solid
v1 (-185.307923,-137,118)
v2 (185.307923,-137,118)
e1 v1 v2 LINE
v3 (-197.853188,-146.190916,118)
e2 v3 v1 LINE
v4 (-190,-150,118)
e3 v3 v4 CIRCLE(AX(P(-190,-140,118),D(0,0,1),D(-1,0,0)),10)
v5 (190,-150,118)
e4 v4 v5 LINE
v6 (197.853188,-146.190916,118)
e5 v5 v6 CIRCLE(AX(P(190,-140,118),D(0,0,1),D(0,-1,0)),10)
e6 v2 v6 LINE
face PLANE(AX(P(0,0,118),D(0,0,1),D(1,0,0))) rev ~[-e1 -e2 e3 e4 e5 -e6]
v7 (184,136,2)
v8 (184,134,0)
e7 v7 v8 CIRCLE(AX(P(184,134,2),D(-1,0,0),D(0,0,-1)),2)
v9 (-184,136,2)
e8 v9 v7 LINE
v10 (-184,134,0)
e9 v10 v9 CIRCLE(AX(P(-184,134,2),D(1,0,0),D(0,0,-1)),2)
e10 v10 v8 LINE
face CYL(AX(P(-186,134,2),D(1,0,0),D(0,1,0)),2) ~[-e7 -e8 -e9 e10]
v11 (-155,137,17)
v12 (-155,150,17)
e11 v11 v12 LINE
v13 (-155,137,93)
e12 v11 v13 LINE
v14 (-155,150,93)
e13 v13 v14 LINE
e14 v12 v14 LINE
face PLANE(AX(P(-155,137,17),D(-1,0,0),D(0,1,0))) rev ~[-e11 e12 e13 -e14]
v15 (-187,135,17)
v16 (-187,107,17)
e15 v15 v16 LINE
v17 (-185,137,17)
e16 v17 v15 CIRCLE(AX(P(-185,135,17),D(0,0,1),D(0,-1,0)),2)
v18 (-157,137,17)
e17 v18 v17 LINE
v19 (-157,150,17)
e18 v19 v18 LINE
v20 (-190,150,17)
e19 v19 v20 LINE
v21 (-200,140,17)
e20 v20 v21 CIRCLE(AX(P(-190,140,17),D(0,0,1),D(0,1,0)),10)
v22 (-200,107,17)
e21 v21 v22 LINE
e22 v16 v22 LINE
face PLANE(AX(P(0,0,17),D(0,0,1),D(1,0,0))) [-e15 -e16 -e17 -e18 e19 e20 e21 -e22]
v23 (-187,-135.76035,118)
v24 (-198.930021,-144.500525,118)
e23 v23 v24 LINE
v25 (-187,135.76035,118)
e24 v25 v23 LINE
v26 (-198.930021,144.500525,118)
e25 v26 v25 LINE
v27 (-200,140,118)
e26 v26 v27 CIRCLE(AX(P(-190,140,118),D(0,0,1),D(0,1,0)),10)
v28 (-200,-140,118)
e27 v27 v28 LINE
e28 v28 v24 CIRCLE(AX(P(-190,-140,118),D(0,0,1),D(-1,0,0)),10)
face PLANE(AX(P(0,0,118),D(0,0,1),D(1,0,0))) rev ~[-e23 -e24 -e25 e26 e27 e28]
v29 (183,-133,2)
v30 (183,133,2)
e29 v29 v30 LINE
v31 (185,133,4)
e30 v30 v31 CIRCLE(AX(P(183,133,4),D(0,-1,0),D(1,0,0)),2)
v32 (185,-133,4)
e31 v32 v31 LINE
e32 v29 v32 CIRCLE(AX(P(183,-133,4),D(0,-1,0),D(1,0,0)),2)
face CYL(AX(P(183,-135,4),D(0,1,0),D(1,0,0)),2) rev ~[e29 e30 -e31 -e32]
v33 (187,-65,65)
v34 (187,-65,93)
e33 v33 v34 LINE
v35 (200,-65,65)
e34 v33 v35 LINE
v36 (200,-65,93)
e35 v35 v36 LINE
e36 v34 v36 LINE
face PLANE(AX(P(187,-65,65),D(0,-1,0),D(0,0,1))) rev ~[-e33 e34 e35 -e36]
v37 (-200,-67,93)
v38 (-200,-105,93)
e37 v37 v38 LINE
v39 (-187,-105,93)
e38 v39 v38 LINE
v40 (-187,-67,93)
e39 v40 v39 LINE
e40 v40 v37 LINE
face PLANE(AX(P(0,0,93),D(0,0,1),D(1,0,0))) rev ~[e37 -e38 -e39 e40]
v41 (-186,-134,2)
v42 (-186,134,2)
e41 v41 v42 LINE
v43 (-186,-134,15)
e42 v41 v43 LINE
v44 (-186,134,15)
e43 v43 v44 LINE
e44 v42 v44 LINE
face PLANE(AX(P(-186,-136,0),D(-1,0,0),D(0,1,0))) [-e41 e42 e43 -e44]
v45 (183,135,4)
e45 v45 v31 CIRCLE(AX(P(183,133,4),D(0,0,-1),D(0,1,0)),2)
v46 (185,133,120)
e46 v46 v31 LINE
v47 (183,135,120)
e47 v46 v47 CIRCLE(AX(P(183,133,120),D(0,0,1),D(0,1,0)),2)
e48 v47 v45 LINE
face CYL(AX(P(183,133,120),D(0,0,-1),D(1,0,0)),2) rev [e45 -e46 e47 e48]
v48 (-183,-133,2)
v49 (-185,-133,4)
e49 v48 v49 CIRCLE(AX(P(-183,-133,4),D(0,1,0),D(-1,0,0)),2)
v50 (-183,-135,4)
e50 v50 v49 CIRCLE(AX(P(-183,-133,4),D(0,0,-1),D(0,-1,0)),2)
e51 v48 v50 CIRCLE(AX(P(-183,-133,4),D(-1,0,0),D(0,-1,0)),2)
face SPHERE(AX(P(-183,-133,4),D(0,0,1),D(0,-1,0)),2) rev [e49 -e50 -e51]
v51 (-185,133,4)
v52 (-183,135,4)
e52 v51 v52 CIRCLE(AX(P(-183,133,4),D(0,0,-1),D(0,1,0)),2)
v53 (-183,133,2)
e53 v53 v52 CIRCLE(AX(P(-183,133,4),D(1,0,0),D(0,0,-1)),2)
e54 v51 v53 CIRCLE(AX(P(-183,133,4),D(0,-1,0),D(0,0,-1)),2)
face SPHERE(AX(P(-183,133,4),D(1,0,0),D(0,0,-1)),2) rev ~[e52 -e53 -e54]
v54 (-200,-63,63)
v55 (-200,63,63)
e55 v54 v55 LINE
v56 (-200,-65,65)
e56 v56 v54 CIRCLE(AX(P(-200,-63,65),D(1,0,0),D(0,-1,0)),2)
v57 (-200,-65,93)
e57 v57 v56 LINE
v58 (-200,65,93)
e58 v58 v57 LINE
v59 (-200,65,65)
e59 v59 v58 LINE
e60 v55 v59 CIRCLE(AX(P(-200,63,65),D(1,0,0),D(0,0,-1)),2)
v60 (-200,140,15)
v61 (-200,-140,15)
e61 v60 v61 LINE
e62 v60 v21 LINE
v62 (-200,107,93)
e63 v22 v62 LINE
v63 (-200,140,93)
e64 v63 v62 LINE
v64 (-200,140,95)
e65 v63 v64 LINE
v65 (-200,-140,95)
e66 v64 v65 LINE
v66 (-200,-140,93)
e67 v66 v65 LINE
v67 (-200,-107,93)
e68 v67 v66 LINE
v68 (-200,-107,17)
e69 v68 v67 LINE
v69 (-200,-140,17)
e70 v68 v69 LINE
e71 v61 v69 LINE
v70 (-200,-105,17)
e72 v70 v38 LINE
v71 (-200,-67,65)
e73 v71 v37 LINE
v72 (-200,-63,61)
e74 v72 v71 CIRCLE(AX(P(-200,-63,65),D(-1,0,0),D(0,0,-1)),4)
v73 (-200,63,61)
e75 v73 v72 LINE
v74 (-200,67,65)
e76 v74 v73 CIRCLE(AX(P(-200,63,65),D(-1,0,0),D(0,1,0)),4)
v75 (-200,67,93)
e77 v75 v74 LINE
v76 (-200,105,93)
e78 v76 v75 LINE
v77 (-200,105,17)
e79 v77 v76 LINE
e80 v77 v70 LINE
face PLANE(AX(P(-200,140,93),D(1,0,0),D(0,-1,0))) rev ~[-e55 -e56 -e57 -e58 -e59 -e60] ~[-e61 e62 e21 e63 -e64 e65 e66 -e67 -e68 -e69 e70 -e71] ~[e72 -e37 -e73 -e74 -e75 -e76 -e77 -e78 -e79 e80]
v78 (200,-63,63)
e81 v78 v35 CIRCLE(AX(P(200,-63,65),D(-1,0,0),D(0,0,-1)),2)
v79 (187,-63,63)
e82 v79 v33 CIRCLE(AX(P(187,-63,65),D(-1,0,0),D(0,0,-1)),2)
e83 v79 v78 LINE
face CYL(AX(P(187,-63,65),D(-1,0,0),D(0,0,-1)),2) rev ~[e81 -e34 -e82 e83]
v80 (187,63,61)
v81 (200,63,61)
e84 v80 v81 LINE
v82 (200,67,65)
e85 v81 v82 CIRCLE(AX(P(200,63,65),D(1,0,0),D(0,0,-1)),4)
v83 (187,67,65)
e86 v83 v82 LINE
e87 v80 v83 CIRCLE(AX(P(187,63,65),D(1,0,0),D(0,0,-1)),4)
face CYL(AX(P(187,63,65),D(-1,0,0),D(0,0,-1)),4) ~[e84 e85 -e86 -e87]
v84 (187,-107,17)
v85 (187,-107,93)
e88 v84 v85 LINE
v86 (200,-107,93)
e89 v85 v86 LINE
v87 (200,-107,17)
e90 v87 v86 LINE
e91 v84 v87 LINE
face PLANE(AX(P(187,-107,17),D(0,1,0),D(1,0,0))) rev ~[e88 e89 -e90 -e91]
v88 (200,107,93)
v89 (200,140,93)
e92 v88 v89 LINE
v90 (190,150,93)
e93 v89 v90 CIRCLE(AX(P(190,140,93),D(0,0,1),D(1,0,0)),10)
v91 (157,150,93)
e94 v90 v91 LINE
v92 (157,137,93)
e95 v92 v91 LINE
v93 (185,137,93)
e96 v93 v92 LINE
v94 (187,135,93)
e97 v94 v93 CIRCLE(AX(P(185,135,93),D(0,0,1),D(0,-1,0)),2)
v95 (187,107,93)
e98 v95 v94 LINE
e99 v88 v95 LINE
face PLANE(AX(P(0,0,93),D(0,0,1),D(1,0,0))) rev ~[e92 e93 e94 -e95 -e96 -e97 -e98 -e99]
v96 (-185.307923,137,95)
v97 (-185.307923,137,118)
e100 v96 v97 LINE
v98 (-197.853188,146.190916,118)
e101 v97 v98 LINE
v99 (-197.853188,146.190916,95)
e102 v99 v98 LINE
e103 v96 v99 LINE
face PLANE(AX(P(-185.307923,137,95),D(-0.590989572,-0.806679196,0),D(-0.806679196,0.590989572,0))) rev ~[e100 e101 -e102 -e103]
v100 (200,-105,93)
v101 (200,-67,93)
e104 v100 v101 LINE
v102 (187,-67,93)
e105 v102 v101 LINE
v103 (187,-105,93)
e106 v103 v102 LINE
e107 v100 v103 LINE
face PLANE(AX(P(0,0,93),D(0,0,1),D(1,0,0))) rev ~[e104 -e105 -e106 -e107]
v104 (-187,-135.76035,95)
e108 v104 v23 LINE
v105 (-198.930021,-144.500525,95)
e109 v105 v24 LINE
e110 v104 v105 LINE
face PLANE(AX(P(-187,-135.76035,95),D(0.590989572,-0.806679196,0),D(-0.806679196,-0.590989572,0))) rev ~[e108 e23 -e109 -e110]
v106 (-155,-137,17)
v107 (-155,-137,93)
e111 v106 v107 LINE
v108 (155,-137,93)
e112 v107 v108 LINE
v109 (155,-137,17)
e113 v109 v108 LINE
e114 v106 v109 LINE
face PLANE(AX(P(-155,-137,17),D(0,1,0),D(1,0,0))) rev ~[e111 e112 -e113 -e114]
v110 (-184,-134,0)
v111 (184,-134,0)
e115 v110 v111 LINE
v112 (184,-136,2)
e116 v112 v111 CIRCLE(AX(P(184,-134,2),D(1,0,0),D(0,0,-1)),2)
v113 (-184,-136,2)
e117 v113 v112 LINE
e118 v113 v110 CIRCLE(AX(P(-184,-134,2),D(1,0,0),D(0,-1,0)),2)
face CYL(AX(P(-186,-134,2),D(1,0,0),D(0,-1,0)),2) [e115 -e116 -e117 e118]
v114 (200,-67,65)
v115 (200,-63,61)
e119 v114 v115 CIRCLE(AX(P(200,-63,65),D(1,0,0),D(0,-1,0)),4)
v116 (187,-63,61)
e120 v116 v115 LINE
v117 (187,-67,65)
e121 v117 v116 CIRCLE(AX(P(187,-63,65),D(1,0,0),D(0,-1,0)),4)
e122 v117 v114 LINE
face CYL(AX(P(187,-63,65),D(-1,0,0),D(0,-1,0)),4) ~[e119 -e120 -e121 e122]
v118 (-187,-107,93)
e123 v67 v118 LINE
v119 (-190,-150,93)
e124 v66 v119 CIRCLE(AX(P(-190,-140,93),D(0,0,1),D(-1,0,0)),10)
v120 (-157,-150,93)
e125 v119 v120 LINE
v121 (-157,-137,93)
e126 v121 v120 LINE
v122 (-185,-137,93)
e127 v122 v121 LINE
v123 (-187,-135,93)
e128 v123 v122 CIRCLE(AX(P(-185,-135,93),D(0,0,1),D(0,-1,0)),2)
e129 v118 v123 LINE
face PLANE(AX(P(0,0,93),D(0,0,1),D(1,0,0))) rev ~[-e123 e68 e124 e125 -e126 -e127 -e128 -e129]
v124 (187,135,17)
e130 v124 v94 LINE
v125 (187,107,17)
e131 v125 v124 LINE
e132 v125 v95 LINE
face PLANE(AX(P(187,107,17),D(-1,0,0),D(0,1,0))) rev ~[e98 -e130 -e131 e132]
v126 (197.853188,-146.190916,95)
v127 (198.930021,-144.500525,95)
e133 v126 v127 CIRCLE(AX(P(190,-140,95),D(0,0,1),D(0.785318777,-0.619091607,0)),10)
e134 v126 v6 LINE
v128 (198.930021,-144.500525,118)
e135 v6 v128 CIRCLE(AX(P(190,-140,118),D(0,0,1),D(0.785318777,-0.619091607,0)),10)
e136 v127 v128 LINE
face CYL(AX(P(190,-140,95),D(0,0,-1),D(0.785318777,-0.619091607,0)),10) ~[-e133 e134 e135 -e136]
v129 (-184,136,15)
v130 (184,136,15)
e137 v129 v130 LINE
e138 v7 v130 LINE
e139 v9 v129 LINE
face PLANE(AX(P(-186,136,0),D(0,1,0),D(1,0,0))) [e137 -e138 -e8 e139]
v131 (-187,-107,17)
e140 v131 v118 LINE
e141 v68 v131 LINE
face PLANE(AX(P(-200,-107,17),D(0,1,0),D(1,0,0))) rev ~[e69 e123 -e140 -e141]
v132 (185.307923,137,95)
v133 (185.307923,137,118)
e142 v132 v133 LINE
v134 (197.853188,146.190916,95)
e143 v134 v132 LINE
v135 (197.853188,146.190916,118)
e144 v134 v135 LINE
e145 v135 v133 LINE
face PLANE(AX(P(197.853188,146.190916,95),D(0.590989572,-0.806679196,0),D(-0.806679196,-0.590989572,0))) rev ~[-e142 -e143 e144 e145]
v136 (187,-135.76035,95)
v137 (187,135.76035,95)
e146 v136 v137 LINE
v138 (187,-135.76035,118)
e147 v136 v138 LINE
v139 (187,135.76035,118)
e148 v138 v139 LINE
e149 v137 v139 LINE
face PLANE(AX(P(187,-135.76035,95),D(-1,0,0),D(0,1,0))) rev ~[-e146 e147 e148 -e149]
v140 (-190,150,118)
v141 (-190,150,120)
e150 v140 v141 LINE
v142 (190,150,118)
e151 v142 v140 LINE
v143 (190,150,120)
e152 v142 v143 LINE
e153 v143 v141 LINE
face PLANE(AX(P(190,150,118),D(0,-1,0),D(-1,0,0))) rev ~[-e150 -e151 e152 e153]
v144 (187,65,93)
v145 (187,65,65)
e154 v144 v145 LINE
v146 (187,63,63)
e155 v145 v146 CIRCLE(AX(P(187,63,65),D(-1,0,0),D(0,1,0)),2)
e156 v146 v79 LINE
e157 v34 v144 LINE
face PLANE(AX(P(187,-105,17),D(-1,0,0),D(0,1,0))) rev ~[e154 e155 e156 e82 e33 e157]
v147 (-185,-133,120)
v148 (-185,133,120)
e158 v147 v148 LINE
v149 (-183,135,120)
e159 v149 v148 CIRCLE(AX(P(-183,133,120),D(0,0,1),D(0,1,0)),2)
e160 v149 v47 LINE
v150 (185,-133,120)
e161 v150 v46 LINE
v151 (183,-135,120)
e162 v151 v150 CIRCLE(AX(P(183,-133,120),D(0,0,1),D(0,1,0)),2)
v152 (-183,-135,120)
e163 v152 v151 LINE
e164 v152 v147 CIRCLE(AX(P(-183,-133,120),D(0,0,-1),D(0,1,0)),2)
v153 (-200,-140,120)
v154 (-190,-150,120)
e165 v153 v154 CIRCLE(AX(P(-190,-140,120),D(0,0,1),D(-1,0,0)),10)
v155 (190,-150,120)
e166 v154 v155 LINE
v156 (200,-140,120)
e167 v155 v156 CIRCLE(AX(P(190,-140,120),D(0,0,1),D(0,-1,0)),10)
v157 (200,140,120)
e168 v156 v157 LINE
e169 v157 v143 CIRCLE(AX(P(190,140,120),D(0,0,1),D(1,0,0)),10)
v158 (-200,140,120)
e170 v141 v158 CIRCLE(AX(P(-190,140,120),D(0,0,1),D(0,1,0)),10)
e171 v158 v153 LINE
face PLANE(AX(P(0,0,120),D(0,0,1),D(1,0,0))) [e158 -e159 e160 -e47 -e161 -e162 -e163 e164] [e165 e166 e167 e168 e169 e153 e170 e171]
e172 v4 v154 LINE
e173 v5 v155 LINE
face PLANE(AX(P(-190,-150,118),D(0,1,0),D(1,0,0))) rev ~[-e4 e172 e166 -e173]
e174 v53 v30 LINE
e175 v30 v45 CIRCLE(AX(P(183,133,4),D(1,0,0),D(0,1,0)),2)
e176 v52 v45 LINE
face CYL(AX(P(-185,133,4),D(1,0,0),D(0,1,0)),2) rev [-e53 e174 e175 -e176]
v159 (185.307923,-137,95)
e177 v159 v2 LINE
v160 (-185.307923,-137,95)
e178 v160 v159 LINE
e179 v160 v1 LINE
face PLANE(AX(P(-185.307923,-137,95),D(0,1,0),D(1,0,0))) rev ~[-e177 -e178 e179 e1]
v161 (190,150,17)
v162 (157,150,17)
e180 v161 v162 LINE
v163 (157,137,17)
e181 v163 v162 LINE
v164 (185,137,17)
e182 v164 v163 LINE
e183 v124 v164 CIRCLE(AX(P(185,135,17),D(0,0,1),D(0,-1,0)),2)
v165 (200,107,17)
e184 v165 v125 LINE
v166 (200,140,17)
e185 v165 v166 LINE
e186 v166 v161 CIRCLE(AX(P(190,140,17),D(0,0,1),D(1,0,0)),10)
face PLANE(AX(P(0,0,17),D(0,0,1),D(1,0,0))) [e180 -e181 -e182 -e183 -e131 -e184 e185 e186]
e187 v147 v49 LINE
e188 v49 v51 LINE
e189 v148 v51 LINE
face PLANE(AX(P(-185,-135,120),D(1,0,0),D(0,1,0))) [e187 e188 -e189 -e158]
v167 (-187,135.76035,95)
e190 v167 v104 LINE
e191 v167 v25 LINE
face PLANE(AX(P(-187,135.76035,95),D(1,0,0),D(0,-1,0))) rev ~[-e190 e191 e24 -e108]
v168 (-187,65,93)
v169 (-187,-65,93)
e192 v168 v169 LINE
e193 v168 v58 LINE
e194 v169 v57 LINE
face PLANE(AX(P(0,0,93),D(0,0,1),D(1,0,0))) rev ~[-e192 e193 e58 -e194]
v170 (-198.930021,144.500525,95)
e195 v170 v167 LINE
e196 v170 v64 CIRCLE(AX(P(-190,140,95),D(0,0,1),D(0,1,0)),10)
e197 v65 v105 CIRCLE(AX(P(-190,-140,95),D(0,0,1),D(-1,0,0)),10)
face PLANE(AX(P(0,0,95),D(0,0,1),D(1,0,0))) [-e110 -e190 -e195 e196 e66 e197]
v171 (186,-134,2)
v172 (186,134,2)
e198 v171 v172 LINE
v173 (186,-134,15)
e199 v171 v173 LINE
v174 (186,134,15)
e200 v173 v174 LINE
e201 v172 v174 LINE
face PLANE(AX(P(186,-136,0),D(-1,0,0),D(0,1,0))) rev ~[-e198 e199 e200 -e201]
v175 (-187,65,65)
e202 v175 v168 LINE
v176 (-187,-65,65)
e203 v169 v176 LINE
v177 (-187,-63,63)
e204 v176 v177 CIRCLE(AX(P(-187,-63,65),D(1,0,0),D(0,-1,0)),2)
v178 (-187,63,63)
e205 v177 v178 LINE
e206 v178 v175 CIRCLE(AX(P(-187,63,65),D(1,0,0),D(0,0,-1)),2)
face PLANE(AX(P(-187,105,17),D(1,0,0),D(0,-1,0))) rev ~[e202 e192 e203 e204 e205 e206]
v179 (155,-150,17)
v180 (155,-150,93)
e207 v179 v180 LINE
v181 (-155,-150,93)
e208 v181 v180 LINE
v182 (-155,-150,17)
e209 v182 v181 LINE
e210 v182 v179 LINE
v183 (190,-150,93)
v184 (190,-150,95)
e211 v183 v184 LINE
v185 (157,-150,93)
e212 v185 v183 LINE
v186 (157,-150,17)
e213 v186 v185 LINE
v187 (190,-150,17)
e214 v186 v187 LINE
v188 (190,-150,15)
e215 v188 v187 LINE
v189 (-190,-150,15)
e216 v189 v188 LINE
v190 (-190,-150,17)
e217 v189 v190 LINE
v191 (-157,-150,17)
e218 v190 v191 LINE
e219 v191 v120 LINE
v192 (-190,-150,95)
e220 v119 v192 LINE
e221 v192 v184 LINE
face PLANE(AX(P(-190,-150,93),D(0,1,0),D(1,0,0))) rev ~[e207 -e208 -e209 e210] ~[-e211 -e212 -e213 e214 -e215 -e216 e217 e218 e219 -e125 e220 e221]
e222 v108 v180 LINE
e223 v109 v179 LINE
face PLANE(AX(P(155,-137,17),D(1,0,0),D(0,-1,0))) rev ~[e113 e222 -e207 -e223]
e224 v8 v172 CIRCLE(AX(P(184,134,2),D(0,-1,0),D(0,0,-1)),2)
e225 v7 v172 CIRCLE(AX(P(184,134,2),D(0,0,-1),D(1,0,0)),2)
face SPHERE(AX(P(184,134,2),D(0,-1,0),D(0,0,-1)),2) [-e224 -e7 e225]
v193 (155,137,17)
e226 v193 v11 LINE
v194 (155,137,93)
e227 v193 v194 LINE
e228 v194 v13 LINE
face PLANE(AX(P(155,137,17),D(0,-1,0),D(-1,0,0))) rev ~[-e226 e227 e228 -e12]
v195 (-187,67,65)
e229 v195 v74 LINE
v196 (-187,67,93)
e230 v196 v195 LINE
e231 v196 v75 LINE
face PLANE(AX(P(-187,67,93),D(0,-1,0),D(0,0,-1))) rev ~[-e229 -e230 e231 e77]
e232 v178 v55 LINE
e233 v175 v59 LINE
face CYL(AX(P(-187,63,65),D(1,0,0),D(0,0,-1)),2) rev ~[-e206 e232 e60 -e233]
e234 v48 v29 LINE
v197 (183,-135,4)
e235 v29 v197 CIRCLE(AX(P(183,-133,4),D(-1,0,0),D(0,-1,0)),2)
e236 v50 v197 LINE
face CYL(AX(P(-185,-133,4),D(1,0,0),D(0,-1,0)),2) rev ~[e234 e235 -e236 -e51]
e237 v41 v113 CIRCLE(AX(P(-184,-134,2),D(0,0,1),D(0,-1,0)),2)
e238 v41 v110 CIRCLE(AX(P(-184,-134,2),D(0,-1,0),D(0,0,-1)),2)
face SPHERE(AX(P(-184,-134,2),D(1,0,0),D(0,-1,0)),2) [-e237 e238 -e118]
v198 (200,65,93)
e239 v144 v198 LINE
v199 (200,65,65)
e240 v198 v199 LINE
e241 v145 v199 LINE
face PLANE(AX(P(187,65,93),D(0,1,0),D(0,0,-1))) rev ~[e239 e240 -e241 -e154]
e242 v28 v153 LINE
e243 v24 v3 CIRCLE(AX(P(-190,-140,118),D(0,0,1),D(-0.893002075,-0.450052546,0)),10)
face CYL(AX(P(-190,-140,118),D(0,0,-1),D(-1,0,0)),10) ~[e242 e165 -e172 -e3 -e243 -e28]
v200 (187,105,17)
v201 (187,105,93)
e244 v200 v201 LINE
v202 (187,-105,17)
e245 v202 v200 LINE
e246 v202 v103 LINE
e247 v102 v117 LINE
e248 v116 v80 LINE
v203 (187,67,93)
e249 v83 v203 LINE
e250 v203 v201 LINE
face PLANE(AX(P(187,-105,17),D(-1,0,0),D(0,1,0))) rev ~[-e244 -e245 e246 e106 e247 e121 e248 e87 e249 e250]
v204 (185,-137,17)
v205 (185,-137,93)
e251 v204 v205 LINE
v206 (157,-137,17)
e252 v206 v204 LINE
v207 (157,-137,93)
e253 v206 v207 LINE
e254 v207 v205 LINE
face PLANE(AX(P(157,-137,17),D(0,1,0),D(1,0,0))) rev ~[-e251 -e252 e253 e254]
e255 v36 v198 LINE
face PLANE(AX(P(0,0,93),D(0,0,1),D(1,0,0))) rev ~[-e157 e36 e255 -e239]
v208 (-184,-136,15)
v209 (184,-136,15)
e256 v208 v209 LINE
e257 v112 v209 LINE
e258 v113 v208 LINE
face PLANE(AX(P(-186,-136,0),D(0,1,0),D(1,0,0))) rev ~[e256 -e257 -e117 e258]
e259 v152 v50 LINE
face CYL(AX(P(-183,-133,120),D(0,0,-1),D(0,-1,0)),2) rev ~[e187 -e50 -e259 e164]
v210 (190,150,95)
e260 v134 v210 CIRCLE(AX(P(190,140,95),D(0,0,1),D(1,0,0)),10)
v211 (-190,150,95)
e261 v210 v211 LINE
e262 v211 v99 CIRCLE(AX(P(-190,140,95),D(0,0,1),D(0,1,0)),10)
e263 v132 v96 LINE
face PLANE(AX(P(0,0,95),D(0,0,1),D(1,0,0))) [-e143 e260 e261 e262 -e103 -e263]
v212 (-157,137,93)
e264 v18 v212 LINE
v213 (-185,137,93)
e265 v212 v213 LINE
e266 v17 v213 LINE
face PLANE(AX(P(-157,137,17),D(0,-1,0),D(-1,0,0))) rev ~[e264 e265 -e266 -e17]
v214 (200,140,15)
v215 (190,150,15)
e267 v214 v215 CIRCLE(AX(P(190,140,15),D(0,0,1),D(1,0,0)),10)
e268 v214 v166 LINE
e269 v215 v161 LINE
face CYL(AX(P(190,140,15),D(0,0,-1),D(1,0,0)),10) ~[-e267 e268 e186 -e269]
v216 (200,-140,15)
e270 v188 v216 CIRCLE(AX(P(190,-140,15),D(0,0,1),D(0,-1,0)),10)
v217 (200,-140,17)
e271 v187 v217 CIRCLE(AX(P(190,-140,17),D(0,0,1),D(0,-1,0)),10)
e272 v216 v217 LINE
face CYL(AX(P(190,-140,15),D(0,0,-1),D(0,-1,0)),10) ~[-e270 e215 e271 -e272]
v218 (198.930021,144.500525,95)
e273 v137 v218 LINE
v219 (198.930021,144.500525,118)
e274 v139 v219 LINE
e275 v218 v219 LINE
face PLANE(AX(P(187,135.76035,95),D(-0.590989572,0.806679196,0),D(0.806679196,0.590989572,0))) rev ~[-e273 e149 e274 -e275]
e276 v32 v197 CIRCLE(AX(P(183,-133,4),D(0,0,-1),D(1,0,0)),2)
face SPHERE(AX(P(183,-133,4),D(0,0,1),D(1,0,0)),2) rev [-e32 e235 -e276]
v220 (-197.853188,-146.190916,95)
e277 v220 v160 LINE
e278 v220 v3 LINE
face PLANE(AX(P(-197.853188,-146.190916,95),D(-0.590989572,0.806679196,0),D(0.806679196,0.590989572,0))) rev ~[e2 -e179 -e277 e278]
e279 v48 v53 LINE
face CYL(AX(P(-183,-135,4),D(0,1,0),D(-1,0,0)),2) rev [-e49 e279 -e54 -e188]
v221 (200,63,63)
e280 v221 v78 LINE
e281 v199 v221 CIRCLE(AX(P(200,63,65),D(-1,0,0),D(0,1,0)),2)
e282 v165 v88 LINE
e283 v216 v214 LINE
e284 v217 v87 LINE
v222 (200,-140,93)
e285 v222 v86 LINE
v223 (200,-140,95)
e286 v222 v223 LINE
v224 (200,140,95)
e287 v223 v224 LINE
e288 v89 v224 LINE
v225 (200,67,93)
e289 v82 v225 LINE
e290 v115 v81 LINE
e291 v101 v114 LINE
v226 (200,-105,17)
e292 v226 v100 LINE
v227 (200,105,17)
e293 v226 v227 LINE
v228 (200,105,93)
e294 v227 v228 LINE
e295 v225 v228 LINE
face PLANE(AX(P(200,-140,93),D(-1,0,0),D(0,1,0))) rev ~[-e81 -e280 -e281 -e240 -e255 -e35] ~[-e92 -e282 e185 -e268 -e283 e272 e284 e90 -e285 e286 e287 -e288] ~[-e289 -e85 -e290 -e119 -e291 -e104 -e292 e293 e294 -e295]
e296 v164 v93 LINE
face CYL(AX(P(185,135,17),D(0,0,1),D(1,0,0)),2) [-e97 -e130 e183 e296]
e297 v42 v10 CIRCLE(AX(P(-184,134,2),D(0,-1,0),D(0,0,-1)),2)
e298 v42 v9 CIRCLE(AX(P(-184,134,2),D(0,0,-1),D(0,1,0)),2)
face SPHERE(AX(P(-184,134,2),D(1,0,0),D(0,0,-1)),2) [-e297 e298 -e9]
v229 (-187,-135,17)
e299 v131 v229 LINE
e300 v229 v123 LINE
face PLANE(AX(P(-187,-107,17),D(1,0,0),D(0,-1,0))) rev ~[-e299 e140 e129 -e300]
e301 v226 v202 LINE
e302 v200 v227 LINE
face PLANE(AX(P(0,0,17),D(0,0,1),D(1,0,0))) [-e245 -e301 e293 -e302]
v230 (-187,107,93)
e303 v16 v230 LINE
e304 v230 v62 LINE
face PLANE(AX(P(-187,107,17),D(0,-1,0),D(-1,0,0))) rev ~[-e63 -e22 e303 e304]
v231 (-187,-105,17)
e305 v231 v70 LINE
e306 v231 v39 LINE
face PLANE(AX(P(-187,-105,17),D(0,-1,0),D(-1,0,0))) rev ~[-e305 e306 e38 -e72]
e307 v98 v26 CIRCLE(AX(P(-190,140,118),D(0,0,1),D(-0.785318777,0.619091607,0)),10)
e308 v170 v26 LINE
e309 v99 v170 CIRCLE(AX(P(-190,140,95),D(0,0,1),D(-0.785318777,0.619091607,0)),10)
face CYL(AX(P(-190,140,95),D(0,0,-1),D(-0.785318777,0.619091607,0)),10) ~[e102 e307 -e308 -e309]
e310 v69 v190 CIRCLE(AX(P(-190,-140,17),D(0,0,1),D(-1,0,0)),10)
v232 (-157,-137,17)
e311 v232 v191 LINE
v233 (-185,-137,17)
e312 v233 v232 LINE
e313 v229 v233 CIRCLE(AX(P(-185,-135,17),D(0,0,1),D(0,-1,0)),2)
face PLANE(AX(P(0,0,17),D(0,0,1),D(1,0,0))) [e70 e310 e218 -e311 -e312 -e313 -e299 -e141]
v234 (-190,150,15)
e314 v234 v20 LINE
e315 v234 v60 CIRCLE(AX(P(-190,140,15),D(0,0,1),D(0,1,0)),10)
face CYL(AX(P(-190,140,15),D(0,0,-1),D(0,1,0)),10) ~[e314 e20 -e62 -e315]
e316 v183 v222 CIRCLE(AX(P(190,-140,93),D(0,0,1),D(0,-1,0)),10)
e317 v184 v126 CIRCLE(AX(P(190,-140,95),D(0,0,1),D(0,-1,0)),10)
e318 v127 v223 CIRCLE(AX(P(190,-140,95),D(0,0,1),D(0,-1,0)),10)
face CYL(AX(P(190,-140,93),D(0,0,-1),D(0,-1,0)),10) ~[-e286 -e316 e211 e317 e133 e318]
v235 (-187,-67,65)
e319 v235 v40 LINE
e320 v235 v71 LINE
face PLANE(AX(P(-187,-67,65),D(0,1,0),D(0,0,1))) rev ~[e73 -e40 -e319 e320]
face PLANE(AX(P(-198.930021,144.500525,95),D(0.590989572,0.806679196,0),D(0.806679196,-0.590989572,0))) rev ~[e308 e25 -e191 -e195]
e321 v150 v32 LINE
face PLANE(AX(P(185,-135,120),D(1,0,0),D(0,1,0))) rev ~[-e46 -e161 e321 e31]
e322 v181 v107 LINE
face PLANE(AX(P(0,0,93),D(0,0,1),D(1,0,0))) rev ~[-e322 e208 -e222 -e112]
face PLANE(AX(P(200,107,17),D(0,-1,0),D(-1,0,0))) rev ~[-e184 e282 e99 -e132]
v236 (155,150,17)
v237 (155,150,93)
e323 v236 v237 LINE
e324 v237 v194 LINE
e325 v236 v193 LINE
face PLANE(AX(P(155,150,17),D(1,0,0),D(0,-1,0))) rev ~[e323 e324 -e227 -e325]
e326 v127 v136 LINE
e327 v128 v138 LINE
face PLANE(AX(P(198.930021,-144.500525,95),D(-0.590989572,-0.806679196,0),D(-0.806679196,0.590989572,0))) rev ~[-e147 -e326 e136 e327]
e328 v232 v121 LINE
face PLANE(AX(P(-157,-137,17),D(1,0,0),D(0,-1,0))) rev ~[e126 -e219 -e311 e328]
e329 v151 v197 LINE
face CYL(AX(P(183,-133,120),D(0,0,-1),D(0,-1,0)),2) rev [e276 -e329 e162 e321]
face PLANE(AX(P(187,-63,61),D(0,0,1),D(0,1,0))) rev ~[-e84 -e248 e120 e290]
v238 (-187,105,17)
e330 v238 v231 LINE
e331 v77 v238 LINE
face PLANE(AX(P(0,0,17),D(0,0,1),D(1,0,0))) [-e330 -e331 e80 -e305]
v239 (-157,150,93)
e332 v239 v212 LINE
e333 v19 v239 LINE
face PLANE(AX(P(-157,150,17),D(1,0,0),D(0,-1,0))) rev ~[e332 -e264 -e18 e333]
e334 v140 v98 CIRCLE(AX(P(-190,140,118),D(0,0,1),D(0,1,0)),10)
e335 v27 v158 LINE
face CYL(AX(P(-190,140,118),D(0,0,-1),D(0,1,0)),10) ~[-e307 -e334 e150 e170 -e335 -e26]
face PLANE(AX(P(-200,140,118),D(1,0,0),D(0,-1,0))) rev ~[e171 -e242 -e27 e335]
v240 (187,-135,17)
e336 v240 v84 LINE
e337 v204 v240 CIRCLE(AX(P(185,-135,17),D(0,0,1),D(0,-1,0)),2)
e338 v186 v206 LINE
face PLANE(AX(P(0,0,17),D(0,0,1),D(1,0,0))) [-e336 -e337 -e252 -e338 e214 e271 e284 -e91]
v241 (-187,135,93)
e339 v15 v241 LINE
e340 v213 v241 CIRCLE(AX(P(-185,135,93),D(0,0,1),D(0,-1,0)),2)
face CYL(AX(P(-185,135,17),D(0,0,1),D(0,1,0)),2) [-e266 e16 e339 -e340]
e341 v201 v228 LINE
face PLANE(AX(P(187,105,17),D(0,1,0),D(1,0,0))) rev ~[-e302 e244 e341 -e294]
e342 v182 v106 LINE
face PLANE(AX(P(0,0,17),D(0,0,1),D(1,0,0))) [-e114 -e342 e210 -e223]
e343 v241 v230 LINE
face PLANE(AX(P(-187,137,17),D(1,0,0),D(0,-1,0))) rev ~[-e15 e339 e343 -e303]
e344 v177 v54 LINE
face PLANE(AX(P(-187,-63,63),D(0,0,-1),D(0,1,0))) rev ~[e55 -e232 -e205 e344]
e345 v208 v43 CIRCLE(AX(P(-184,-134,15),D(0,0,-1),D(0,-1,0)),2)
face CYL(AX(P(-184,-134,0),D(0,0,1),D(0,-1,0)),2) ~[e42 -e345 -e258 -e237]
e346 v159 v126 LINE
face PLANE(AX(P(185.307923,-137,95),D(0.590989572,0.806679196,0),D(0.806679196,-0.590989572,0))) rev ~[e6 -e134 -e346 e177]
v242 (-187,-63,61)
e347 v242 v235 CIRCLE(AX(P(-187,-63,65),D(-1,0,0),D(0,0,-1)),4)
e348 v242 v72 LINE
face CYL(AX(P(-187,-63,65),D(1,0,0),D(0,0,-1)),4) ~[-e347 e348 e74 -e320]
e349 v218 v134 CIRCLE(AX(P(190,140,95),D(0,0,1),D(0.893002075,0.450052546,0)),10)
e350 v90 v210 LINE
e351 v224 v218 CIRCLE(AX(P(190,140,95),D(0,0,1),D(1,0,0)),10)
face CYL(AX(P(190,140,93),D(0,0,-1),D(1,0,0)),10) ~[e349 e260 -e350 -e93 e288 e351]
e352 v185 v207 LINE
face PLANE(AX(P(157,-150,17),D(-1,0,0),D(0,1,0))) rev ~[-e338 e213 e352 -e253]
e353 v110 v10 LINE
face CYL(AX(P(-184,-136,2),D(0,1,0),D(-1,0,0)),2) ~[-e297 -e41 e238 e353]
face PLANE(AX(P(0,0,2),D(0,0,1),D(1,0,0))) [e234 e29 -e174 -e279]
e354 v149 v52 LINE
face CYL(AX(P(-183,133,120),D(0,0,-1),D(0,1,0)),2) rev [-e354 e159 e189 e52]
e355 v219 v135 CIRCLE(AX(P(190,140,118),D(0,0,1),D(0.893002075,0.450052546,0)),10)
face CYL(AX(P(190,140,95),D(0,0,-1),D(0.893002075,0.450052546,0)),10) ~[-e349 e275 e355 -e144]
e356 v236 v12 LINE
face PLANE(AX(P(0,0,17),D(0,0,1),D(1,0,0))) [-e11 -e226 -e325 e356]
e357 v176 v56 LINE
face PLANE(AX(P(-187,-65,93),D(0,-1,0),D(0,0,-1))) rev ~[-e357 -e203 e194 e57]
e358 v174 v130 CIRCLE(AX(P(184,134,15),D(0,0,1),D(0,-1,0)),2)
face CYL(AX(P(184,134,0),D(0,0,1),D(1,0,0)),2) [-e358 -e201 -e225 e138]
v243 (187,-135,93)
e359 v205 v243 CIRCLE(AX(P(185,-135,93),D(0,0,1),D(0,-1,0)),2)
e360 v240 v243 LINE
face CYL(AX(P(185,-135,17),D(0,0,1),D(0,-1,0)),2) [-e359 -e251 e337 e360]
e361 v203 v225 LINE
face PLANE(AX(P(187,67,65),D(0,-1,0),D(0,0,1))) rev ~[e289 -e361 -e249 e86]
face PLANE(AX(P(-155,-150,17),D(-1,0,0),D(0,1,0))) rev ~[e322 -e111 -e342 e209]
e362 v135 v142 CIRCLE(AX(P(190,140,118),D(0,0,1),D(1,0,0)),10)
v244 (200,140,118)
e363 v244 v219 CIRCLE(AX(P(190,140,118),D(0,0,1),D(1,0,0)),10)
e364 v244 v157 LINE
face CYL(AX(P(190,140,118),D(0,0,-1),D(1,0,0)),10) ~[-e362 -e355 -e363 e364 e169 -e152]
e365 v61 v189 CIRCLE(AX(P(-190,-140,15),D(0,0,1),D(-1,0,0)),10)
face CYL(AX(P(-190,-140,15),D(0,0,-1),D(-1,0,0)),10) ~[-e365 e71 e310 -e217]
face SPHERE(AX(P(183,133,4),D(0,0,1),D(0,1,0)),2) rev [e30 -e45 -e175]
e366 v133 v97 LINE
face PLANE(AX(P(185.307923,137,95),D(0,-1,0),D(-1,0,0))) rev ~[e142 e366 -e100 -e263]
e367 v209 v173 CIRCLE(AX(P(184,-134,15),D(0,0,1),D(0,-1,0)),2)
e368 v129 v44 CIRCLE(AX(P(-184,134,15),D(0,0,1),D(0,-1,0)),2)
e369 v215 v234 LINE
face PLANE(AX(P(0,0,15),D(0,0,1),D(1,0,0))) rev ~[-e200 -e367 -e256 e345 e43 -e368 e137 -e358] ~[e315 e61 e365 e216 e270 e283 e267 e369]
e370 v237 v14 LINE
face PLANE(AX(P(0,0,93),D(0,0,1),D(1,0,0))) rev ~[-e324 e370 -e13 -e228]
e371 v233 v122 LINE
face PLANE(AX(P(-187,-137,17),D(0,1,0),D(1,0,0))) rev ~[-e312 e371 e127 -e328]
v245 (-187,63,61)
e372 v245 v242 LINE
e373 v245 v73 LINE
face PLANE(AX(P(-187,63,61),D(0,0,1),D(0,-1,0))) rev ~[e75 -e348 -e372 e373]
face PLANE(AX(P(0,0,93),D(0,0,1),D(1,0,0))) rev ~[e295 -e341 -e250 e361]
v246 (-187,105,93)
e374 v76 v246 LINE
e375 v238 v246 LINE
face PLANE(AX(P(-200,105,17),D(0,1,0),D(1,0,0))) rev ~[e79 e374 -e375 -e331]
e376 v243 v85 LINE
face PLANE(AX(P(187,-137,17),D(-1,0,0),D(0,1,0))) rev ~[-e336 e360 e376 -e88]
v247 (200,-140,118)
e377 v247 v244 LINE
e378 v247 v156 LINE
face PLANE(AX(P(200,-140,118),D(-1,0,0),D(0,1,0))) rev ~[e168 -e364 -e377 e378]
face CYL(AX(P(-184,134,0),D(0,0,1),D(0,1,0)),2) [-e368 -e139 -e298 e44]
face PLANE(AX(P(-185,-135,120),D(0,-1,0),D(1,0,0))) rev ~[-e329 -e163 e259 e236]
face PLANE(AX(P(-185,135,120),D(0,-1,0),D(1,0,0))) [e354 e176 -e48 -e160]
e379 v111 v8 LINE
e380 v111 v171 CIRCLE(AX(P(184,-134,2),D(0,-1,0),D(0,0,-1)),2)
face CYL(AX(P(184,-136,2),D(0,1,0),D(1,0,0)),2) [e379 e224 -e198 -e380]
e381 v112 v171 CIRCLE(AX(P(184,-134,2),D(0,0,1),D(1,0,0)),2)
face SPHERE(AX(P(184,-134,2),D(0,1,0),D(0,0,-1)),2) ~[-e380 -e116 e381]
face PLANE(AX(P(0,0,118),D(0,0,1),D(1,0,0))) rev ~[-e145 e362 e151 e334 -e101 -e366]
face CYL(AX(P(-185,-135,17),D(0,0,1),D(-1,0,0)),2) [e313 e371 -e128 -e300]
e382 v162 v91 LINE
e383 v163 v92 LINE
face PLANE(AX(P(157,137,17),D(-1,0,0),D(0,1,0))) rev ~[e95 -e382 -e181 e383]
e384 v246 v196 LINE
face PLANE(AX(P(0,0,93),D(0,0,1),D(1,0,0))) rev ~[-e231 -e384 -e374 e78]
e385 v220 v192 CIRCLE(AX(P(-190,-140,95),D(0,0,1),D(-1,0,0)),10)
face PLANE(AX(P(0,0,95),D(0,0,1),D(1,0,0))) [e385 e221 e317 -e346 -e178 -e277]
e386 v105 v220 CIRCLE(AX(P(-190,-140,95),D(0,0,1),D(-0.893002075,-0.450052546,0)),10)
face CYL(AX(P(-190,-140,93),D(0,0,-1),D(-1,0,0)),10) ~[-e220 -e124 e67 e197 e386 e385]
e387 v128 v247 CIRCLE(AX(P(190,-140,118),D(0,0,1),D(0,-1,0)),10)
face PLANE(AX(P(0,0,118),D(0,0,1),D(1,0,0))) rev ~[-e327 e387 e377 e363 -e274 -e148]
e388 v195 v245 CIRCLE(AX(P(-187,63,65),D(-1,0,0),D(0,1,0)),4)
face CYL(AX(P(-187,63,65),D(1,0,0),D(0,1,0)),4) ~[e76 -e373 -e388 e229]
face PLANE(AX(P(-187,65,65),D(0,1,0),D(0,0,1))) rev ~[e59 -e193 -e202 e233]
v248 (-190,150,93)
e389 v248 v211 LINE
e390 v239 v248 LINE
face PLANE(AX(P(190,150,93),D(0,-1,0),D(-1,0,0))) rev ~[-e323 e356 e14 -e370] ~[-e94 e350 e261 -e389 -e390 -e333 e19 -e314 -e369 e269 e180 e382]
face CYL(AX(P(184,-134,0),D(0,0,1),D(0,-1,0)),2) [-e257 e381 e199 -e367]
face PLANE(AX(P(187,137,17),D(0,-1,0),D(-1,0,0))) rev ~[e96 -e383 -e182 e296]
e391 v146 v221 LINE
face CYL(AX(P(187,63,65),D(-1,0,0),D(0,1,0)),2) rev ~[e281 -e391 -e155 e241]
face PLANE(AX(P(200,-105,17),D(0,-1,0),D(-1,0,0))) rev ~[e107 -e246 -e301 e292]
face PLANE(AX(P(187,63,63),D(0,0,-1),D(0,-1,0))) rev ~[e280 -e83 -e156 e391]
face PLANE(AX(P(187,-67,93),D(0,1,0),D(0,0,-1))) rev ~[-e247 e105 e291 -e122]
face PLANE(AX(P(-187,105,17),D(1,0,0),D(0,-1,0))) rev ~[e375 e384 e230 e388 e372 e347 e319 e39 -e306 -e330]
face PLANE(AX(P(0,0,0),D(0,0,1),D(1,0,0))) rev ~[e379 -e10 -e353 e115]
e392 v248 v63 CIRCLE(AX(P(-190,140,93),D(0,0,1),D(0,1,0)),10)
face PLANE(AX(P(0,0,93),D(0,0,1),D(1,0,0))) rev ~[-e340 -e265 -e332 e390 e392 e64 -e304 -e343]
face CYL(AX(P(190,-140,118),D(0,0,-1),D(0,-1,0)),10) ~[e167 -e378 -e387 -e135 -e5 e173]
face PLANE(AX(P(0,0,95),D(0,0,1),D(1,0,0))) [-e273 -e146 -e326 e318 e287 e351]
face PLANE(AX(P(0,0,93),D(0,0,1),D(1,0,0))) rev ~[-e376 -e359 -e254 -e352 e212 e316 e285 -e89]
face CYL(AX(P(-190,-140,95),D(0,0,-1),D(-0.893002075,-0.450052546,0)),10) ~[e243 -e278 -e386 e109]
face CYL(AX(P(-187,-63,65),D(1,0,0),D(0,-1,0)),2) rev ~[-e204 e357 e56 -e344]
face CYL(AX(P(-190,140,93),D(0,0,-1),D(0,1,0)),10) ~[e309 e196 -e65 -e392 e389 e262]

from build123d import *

# Parameters (mm, degrees)
F0_W      = 372
F0_H      = 272
F1_DEPTH  = 15
F2_W      = 372
F2_H      = 272
F3_DEPTH  = 2
F5_DEPTH  = 76
F7_DEPTH  = 2
F9_DEPTH  = 23
F11_DEPTH = 2
F12_W     = 370
F12_H     = 270
F13_DEPTH = 118
F15_DEPTH = 13
F17_DEPTH = 13
F18_R     = 2


with BuildPart() as f1:
    # F0 (on Top) → F1 (new body)
    with BuildSketch(Plane.XY):
        Rectangle(F0_W, F0_H)
    extrude(amount=F1_DEPTH)

    # F2 (on face) → F3 (join)
    with BuildSketch(Plane.XY.offset(15)):
        with BuildLine():
            Line((-190, -150), (190, -150))
            ThreePointArc((190, -150), (197.0710678119, -147.0710678119), (200, -140))
            Line((200, -140), (200, 140))
            ThreePointArc((200, 140), (197.0710678119, 147.0710678119), (190, 150))
            Line((190, 150), (-190, 150))
            ThreePointArc((-190, 150), (-197.0710678119, 147.0710678119), (-200, 140))
            Line((-200, 140), (-200, -140))
            ThreePointArc((-200, -140), (-197.0710678119, -147.0710678119), (-190, -150))
        make_face()
        Rectangle(F2_W, F2_H, mode=Mode.SUBTRACT)
        Rectangle(F2_W, F2_H)
    extrude(amount=F3_DEPTH)

    # F4 (on face) → F5 (join)
    with BuildSketch(Plane.XY.offset(17)):
        Polygon((157, -137), (187, -137), (187, -107), (200, -107), (200, -105), (187, -105), (187, 105), (200, 105), (200, 107), (187, 107), (187, 137), (157, 137), (157, 150), (155, 150), (155, 137), (-155, 137), (-155, 150), (-157, 150), (-157, 137), (-187, 137), (-187, 107), (-200, 107), (-200, 105), (-187, 105), (-187, -105), (-200, -105), (-200, -107), (-187, -107), (-187, -137), (-157, -137), (-157, -150), (-155, -150), (-155, -137), (155, -137), (155, -150), (157, -150), align=None)
    extrude(amount=F5_DEPTH)

    # F6 (on face) → F7 (join)
    with BuildSketch(Plane.XY.offset(93)):
        with BuildLine():
            Line((190, 150), (-190, 150))
            ThreePointArc((-190, 150), (-197.0710678119, 147.0710678119), (-200, 140))
            Line((-200, 140), (-200, -140))
            ThreePointArc((-200, -140), (-197.0710678119, -147.0710678119), (-190, -150))
            Line((-190, -150), (190, -150))
            ThreePointArc((190, -150), (197.0710678119, -147.0710678119), (200, -140))
            Line((200, -140), (200, 140))
            ThreePointArc((200, 140), (197.0710678119, 147.0710678119), (190, 150))
        make_face()
    extrude(amount=F7_DEPTH)

    # F8 (on face) → F9 (join)
    with BuildSketch(Plane.XY.offset(95)):
        with BuildLine():
            Line((-185.3079227659, -137), (185.3079227659, -137))
            Line((185.3079227659, -137), (197.8531877713, -146.1909160735))
            ThreePointArc((197.8531877713, -146.1909160735), (198.4340605379, -145.3727667773), (198.9300207482, -144.5005254622))
            Line((198.9300207482, -144.5005254622), (187, -135.7603498338))
            Line((187, -135.7603498338), (187, 135.7603498338))
            Line((187, 135.7603498338), (198.9300207482, 144.5005254622))
            ThreePointArc((198.9300207482, 144.5005254622), (198.4340605379, 145.3727667773), (197.8531877713, 146.1909160735))
            Line((197.8531877713, 146.1909160735), (185.3079227659, 137))
            Line((185.3079227659, 137), (-185.3079227659, 137))
            Line((-185.3079227659, 137), (-197.8531877713, 146.1909160735))
            ThreePointArc((-197.8531877713, 146.1909160735), (-198.4340605379, 145.3727667773), (-198.9300207482, 144.5005254622))
            Line((-198.9300207482, 144.5005254622), (-187, 135.7603498338))
            Line((-187, 135.7603498338), (-187, -135.7603498338))
            Line((-187, -135.7603498338), (-198.9300207482, -144.5005254622))
            ThreePointArc((-198.9300207482, -144.5005254622), (-198.4340605379, -145.3727667773), (-197.8531877713, -146.1909160735))
            Line((-197.8531877713, -146.1909160735), (-185.3079227659, -137))
        make_face()
    extrude(amount=F9_DEPTH)

    # F10 (on face) → F11 (join)
    with BuildSketch(Plane.XY.offset(118)):
        with BuildLine():
            Line((-190, -150), (190, -150))
            ThreePointArc((190, -150), (197.0710678119, -147.0710678119), (200, -140))
            Line((200, -140), (200, 140))
            ThreePointArc((200, 140), (197.0710678119, 147.0710678119), (190, 150))
            Line((190, 150), (-190, 150))
            ThreePointArc((-190, 150), (-197.0710678119, 147.0710678119), (-200, 140))
            Line((-200, 140), (-200, -140))
            ThreePointArc((-200, -140), (-197.0710678119, -147.0710678119), (-190, -150))
        make_face()
    extrude(amount=F11_DEPTH)

    # F12 (on face) → F13 (cut)
    with BuildSketch(Plane.XY.offset(120)):
        Rectangle(F12_W, F12_H)
    extrude(amount=-F13_DEPTH, mode=Mode.SUBTRACT)

    # F14 (on face) → F15 (join, through all)
    with BuildSketch(Plane(origin=(-187, 0, 0), x_dir=(0, -1, 0), z_dir=(-1, 0, 0))):
        with BuildLine():
            Line((-63, 61), (63, 61))
            ThreePointArc((63, 61), (65.8284271247, 62.1715728753), (67, 65))
            Line((67, 65), (67, 93))
            Line((67, 93), (65, 93))
            Line((65, 93), (65, 65))
            ThreePointArc((65, 65), (64.4142135624, 63.5857864376), (63, 63))
            Line((63, 63), (-63, 63))
            ThreePointArc((-63, 63), (-64.4142135624, 63.5857864376), (-65, 65))
            Line((-65, 65), (-65, 93))
            Line((-65, 93), (-67, 93))
            Line((-67, 93), (-67, 65))
            ThreePointArc((-67, 65), (-65.8284271247, 62.1715728753), (-63, 61))
        make_face()
    extrude(amount=F15_DEPTH)

    # F16 (on face) → F17 (join, through all)
    with BuildSketch(Plane.YZ.offset(187)):
        with BuildLine():
            ThreePointArc((63, 61), (65.8284271247, 62.1715728753), (67, 65))
            Line((67, 65), (67, 93))
            Line((67, 93), (65, 93))
            Line((65, 93), (65, 65))
            ThreePointArc((65, 65), (64.4142135624, 63.5857864376), (63, 63))
            Line((63, 63), (-63, 63))
            ThreePointArc((-63, 63), (-64.4142135624, 63.5857864376), (-65, 65))
            Line((-65, 65), (-65, 93))
            Line((-65, 93), (-67, 93))
            Line((-67, 93), (-67, 65))
            ThreePointArc((-67, 65), (-65.8284271247, 62.1715728753), (-63, 61))
            Line((-63, 61), (63, 61))
        make_face()
    extrude(amount=F17_DEPTH)

    # F18
    f18_edges = [f1.edges().sort_by_distance(p)[0] for p in [
        (-185, -135, 61),
        (185, -135, 61),
        (185, 135, 61),
        (0, 135, 2),
        (185, 0, 2),
        (0, -135, 2),
        (-185, 0, 2),
        (-185, 135, 61),
        (187, -137, 55),
        (187, 137, 55),
        (-187, 137, 55),
        (-187, -137, 55),
        (186, 0, 0),
        (0, 136, 0),
        (186, 136, 7.5),
        (0, -136, 0),
        (186, -136, 7.5),
        (-186, -136, 7.5),
        (-186, 0, 0),
        (-186, 136, 7.5),
    ]]
    fillet(f18_edges, radius=F18_R)


solid = f1.part
